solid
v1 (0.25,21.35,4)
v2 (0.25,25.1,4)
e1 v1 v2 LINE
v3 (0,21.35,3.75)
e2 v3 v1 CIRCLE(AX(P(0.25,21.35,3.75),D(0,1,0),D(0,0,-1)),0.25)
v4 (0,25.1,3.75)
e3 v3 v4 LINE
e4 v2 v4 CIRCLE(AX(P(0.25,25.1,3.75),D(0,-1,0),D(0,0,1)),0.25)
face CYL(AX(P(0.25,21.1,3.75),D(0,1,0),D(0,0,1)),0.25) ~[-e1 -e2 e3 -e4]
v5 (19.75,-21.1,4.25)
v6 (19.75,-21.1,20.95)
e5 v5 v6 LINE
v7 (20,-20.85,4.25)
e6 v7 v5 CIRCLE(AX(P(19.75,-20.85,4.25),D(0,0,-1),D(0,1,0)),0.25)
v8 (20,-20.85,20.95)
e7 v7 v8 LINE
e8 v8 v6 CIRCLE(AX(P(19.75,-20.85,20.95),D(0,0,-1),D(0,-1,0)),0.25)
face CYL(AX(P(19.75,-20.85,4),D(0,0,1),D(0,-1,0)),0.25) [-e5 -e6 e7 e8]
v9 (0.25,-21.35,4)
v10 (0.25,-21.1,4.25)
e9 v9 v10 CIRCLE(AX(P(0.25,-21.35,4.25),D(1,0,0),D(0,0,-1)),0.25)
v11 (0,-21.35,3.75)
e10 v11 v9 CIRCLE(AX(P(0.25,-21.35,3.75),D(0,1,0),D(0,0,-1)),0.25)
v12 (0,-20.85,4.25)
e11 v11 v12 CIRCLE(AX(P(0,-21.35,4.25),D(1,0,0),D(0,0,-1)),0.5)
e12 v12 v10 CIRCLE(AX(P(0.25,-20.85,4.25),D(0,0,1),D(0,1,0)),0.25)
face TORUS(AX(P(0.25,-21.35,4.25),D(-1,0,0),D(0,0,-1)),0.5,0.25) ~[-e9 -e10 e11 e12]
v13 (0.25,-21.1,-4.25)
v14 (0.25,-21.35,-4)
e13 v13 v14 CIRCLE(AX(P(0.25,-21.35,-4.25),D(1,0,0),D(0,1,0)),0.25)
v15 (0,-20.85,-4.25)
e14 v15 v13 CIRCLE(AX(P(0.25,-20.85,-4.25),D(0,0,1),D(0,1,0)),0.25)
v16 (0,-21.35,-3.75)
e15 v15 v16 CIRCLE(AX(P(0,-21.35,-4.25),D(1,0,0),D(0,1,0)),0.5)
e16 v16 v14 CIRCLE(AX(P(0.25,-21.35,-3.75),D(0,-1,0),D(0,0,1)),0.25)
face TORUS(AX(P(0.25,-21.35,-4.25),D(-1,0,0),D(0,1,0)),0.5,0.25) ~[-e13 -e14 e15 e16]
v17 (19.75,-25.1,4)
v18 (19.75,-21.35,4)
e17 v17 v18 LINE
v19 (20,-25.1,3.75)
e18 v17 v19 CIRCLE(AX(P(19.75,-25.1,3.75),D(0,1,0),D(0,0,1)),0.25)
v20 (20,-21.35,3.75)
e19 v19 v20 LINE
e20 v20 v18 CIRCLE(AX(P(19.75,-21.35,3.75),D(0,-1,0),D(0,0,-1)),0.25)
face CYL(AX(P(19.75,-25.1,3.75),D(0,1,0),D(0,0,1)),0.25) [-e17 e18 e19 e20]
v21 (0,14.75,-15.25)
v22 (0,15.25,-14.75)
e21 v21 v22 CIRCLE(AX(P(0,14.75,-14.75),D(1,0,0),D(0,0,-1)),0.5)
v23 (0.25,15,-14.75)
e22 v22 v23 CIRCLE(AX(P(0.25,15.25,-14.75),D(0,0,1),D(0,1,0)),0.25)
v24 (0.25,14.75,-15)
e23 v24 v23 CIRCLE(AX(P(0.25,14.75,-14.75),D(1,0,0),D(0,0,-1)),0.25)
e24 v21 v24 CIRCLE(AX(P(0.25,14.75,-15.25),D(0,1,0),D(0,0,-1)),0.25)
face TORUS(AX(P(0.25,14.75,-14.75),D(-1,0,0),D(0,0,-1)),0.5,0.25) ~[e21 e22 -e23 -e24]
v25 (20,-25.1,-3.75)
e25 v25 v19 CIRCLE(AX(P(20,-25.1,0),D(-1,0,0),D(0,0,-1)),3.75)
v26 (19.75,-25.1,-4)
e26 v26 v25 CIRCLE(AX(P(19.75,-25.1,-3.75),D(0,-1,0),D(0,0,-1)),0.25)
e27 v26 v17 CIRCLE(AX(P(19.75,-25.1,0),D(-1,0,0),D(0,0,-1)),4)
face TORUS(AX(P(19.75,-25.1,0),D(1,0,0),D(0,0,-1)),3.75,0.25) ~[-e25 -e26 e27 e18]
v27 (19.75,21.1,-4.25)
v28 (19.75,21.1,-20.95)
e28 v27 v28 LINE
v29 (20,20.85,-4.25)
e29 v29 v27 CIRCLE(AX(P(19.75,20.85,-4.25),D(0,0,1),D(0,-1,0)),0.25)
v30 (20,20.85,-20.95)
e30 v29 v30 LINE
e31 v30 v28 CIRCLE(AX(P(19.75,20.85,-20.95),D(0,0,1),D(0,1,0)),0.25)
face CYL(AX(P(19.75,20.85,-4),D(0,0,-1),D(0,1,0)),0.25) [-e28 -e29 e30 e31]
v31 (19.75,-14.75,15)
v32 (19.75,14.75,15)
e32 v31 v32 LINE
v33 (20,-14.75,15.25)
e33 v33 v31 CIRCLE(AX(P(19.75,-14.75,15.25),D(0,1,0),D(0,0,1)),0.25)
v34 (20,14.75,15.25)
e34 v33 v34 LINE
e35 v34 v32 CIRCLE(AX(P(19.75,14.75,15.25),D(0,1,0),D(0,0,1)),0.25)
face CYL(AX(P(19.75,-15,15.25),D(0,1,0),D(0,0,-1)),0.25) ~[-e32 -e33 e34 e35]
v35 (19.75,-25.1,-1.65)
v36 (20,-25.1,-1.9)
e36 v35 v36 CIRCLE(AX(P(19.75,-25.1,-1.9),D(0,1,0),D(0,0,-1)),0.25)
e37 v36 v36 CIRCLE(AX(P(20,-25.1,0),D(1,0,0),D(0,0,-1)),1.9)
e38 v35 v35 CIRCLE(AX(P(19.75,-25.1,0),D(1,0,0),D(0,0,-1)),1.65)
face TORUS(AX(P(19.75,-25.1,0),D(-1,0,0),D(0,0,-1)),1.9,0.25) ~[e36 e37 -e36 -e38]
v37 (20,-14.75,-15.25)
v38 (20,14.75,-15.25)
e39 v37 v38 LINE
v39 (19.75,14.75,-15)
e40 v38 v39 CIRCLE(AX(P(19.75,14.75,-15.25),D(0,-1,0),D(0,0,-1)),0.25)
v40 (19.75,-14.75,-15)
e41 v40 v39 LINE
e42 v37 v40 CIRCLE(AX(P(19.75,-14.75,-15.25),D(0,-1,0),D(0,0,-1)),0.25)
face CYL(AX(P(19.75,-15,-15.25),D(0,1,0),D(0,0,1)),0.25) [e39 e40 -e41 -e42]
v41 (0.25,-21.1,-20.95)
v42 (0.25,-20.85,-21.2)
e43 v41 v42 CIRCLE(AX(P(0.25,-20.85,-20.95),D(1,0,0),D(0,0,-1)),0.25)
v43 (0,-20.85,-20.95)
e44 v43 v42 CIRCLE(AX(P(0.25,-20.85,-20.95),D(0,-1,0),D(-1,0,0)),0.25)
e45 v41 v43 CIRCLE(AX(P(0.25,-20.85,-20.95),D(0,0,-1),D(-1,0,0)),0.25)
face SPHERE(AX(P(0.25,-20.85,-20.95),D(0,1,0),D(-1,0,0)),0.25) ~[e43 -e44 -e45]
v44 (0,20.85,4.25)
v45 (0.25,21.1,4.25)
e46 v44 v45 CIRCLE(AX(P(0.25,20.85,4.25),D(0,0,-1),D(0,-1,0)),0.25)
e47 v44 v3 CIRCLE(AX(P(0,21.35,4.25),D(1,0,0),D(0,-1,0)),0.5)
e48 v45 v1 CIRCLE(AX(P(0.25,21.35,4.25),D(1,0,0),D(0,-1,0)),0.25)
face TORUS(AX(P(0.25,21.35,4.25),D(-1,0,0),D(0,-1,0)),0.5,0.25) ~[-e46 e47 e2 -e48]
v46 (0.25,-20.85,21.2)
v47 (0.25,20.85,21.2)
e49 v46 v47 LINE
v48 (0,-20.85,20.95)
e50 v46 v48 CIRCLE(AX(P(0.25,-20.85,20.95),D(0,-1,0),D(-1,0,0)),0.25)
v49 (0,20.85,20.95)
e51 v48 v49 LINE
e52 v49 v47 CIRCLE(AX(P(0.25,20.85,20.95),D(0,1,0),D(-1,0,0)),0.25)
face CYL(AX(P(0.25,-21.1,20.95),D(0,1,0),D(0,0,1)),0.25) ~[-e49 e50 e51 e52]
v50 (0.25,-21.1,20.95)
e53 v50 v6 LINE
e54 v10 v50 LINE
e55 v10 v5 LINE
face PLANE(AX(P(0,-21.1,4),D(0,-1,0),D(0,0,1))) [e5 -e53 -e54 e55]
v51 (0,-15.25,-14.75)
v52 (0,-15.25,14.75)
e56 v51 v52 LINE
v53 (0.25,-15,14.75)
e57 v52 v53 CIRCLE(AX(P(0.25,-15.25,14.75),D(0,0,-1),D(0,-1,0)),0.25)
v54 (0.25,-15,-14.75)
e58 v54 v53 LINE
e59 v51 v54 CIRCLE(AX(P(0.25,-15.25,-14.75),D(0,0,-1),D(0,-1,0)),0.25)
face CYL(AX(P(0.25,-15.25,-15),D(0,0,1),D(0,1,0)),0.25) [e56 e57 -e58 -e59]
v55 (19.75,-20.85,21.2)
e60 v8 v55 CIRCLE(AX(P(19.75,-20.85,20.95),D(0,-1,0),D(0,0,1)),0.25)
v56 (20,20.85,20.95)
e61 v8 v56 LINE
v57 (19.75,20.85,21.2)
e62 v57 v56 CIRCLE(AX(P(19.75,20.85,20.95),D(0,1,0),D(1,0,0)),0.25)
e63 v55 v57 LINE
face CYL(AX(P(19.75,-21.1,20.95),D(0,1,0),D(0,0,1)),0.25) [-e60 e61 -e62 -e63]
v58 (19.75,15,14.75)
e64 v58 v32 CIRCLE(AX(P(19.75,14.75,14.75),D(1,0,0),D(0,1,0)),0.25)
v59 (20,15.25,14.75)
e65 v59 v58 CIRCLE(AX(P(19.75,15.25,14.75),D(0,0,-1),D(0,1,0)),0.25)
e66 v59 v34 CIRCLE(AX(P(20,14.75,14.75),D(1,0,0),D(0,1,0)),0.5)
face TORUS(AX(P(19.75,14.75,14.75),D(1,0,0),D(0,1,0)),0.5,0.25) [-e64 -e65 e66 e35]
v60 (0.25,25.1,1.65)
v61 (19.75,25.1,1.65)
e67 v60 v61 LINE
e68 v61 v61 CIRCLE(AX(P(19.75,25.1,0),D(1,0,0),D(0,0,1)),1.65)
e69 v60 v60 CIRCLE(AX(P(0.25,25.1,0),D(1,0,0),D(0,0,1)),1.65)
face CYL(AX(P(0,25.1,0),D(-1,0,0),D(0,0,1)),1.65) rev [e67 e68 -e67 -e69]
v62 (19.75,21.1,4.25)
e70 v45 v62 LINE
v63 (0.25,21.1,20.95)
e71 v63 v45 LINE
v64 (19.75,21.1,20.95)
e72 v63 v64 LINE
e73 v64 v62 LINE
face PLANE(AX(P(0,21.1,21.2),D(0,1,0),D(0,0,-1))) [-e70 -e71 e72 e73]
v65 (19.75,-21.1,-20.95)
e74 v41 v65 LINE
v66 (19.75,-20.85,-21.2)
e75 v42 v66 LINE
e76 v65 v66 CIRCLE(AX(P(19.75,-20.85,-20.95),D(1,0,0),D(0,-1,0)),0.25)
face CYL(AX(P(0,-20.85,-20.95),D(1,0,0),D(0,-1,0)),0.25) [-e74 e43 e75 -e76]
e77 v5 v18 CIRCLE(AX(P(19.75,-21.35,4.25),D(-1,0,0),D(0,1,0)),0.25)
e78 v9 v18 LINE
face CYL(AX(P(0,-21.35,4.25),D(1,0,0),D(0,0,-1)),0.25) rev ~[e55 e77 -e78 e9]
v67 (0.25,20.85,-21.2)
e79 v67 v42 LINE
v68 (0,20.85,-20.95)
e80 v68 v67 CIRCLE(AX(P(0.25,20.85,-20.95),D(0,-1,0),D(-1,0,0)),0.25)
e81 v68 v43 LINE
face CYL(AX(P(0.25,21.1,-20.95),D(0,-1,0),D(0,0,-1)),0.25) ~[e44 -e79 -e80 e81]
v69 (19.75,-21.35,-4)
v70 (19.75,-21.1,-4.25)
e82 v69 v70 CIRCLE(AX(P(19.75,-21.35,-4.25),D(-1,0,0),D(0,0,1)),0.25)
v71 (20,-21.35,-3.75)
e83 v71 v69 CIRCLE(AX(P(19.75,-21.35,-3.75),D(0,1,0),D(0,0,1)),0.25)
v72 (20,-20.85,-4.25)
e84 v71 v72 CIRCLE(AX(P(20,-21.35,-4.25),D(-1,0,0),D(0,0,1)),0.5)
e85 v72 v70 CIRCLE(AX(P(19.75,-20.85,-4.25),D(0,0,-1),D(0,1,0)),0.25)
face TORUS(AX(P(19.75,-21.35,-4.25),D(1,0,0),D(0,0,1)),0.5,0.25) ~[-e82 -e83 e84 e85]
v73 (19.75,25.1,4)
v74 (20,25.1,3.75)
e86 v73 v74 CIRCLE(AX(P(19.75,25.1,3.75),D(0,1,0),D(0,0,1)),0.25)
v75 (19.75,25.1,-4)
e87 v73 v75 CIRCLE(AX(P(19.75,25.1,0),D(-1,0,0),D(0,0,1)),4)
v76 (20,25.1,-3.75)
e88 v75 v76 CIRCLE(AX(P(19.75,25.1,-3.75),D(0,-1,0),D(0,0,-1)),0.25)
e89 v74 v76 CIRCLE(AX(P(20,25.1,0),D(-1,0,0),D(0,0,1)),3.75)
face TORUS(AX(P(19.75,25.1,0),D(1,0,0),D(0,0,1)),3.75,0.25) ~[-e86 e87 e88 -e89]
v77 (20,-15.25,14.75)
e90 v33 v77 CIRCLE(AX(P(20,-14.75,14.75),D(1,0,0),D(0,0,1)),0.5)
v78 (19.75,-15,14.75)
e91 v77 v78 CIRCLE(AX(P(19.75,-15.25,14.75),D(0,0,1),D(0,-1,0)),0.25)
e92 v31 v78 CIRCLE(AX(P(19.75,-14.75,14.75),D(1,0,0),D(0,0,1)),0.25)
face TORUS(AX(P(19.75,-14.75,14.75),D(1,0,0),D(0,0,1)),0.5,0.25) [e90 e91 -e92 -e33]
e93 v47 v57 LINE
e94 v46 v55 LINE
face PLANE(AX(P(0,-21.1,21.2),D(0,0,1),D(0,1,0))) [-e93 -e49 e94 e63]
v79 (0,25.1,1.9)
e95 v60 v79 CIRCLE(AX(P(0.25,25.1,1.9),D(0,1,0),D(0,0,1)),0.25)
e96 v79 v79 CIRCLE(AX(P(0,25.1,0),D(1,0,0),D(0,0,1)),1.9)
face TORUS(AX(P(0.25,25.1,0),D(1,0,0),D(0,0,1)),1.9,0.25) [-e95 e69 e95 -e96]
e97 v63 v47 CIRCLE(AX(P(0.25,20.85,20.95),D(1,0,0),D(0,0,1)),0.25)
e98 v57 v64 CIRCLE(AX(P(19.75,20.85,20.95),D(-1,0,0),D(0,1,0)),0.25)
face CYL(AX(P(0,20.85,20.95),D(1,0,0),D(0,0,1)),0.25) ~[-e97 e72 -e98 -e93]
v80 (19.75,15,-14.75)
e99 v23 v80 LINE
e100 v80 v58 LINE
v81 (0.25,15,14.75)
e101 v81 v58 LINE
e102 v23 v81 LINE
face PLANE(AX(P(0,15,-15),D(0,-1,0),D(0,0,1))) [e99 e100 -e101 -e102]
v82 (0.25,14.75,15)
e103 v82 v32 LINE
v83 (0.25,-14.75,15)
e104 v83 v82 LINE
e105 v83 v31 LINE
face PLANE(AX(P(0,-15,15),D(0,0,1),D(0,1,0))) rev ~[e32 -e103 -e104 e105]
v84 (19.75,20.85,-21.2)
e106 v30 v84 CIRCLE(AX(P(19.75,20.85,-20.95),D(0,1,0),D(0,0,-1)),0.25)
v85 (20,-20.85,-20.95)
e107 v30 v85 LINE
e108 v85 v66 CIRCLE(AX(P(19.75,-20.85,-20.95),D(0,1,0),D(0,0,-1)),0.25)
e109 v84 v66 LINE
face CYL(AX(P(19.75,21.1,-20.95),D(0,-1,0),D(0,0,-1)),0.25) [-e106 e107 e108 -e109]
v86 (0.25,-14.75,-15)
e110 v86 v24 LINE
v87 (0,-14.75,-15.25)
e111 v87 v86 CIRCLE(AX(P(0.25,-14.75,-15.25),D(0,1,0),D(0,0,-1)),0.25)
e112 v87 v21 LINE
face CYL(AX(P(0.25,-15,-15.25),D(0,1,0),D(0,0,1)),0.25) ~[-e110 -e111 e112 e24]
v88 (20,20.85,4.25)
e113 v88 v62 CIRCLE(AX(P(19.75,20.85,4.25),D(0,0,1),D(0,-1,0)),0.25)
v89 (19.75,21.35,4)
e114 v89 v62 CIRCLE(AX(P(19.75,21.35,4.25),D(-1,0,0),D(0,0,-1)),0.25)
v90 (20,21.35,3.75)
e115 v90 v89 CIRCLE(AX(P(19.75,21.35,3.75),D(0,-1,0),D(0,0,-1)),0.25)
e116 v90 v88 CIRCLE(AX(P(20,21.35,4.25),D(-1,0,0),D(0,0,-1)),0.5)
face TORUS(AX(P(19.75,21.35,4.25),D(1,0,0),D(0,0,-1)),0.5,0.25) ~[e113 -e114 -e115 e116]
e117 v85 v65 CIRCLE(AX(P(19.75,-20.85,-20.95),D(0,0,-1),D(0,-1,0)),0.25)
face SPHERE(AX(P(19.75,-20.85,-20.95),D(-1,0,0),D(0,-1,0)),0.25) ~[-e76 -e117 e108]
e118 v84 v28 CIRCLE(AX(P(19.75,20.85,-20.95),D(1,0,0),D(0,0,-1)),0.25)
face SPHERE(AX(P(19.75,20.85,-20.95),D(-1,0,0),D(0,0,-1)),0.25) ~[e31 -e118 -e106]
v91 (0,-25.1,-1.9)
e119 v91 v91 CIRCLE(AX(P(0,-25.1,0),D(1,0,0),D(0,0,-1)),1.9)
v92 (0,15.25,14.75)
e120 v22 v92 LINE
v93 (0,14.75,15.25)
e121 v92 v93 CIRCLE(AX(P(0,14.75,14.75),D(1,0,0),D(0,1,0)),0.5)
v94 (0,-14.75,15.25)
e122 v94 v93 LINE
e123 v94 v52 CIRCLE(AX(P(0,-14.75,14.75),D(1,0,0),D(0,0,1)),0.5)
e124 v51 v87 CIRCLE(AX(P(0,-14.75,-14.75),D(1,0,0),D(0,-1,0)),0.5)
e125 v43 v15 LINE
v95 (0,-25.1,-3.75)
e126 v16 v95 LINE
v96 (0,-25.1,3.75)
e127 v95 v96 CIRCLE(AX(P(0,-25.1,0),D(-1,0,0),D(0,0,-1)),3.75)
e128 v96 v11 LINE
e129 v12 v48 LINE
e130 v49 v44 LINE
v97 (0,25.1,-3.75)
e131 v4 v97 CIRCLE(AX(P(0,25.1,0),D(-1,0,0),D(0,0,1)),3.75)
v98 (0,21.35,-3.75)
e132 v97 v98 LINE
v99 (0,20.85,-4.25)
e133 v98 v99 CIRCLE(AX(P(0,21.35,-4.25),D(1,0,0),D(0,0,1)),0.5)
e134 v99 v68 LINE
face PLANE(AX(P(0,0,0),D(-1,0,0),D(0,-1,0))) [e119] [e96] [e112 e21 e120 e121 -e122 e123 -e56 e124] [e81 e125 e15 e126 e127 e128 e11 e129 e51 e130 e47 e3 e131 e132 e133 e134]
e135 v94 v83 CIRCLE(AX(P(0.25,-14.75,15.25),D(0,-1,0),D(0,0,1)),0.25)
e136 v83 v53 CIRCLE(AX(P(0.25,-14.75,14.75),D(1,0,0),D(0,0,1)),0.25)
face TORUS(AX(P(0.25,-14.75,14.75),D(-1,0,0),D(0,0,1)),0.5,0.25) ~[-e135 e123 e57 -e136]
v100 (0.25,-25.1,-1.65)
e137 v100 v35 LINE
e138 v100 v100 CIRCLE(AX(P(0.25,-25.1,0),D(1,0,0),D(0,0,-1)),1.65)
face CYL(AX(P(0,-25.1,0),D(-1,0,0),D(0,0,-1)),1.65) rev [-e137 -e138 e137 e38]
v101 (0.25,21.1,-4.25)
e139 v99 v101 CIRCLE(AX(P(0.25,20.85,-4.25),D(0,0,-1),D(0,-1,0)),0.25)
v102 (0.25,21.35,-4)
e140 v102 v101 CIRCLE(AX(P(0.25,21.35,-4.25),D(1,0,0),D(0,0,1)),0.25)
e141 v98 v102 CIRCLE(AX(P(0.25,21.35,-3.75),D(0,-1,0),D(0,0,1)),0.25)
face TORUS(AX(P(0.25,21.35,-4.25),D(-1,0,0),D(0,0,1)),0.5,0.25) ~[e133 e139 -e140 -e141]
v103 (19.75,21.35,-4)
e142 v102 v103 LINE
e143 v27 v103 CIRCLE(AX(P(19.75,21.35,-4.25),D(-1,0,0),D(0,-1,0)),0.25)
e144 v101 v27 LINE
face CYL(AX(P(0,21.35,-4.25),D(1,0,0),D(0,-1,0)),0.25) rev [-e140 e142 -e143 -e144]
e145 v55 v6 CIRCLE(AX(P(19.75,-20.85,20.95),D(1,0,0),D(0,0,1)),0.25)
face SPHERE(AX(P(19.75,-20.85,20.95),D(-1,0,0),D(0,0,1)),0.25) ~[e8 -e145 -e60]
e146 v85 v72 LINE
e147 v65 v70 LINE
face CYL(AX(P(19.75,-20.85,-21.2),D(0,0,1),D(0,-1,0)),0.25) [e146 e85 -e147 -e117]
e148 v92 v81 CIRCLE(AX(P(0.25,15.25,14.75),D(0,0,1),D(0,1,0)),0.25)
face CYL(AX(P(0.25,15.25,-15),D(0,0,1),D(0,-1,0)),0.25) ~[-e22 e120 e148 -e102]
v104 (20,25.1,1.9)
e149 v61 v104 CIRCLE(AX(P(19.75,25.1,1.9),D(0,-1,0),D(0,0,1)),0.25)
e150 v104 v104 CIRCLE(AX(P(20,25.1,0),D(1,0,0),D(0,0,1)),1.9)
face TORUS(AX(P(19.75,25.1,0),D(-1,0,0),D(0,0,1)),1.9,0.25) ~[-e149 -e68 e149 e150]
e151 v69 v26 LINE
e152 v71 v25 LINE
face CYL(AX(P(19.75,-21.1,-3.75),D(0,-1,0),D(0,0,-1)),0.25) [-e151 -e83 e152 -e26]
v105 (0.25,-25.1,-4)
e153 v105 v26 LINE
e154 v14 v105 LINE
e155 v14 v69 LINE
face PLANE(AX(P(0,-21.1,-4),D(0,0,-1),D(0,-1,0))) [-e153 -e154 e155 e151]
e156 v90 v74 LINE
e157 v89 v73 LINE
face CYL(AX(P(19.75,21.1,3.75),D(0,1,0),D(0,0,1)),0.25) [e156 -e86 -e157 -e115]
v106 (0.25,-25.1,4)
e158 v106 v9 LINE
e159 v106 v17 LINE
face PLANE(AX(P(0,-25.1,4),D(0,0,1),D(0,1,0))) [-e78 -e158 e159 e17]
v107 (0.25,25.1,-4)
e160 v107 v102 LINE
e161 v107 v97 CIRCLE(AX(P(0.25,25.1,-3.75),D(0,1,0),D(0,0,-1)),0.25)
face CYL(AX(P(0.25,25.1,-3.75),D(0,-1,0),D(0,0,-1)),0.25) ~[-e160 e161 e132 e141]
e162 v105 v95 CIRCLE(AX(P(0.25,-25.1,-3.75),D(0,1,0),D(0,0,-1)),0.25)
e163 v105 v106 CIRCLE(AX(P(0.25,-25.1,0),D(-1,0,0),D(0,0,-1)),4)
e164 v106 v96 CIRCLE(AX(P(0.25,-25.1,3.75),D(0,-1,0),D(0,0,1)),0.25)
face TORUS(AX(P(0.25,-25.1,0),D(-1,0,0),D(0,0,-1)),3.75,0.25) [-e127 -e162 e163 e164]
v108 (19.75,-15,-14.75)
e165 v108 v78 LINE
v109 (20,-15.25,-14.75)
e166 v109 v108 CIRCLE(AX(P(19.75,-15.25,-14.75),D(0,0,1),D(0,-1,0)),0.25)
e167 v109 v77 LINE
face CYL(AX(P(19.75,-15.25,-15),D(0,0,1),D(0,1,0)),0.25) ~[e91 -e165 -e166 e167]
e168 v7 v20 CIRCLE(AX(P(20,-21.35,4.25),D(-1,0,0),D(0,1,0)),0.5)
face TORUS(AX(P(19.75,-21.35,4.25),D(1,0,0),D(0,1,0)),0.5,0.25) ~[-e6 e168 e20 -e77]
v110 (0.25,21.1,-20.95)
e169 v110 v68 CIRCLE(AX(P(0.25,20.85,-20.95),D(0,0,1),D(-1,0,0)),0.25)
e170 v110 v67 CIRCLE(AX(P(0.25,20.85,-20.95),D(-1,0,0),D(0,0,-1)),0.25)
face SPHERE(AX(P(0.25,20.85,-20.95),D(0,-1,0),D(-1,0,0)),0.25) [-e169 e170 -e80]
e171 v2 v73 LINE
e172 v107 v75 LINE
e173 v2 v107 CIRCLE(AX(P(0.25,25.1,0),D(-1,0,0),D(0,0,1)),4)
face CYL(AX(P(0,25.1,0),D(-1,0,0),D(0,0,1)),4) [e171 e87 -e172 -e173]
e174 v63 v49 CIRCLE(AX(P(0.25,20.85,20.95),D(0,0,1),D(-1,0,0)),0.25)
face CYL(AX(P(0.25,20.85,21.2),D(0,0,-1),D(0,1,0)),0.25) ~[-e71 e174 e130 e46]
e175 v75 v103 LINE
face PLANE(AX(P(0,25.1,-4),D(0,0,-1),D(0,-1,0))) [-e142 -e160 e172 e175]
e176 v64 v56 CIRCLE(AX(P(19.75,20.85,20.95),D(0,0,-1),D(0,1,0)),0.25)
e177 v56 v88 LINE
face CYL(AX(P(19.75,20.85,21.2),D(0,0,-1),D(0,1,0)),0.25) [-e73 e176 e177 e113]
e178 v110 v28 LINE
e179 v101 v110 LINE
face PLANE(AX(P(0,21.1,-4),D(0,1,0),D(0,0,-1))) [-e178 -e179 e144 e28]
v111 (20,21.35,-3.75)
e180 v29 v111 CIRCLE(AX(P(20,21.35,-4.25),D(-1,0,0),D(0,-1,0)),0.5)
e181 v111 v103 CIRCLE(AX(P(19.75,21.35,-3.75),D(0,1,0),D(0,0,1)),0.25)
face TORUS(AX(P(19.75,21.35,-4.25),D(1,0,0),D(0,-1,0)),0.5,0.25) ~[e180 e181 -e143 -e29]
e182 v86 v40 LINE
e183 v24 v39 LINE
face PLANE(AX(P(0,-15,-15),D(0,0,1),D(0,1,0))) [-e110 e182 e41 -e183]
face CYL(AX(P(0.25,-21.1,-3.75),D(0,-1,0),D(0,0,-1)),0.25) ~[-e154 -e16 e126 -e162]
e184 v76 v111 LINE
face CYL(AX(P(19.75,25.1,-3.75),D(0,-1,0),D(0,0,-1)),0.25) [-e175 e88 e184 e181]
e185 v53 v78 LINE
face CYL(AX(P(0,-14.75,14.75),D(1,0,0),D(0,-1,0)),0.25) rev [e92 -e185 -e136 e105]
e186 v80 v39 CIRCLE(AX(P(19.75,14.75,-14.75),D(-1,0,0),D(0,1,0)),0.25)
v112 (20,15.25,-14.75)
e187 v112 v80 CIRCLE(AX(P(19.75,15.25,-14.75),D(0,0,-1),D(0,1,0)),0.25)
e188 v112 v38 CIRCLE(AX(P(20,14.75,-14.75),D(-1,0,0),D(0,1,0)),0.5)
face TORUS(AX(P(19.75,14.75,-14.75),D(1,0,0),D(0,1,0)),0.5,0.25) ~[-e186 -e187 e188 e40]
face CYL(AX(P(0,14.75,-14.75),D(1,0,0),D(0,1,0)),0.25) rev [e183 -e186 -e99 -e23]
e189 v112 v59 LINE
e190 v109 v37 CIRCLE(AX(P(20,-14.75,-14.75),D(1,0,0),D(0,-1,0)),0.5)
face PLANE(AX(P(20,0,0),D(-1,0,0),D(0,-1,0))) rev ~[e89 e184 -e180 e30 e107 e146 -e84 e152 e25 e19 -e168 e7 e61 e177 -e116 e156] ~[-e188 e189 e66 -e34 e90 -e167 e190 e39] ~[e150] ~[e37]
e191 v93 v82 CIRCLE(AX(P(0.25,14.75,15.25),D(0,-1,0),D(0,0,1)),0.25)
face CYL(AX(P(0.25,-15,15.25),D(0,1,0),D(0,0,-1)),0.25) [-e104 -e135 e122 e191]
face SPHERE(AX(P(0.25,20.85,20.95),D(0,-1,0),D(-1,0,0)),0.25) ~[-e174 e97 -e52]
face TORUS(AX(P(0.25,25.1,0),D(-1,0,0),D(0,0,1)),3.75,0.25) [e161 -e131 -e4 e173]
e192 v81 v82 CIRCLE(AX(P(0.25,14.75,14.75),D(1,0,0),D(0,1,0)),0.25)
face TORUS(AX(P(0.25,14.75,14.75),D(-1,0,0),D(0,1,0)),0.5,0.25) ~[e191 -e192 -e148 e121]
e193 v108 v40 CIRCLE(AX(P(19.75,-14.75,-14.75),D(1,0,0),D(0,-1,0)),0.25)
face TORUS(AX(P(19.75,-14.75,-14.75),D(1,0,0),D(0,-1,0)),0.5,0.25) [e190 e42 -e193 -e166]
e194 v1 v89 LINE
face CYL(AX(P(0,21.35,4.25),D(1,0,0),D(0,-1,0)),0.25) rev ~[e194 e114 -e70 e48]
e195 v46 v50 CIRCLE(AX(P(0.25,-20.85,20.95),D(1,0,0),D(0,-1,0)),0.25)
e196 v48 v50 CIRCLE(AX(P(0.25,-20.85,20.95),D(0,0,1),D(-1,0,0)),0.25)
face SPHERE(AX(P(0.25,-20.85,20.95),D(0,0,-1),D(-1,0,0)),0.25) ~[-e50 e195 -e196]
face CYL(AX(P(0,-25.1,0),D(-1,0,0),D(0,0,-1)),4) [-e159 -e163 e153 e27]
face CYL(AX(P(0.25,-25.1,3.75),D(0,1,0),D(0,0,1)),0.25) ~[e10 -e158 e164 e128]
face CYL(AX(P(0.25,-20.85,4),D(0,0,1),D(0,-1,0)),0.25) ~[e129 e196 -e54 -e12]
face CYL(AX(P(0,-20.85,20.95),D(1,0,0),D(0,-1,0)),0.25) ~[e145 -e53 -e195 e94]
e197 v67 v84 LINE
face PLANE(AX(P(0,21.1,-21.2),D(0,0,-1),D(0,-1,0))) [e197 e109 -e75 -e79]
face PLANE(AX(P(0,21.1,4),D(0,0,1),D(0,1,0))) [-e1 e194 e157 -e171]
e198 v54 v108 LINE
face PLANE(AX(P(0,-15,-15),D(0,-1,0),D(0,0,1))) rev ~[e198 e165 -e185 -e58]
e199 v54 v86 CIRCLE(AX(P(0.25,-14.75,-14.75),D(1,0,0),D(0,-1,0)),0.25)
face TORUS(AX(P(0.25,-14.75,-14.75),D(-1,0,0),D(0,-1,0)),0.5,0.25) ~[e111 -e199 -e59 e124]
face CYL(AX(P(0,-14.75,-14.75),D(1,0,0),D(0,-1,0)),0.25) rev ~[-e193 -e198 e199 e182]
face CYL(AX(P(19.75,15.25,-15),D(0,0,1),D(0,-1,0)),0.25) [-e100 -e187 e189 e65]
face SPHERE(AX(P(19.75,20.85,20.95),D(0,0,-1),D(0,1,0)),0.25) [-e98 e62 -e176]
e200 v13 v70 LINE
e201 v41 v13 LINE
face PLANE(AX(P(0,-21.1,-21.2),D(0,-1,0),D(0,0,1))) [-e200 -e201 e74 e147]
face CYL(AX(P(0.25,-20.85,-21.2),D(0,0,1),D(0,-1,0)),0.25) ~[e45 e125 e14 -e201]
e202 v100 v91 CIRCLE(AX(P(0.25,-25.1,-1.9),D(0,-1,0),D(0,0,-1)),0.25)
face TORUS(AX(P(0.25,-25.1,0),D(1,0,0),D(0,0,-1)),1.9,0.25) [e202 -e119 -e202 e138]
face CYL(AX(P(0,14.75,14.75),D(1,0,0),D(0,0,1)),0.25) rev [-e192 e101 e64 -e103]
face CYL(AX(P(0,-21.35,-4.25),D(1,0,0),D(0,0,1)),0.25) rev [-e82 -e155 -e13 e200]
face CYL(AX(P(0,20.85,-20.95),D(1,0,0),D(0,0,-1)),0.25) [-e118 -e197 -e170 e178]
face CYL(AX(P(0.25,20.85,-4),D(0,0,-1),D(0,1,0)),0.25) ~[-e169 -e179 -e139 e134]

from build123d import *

# Parameters (mm, degrees)
SKETCH1_R           = 1.65
SKETCH1_W           = 30
SKETCH1_H           = 30
BOSS_EXTRUDE1_DEPTH = 20
FILLET18_R          = 0.25


with BuildPart() as part:
    # Sketch1 → Boss-Extrude1 (new body)
    with BuildSketch(Plane.YZ):
        with BuildLine():
            Line((-25.1, 4), (-21.1, 4))
            Line((-21.1, 4), (-21.1, 21.2))
            Line((-21.1, 21.2), (21.1, 21.2))
            Line((21.1, 21.2), (21.1, 4))
            Line((21.1, 4), (25.1, 4))
            ThreePointArc((25.1, 4), (29.1, 0), (25.1, -4))
            Line((25.1, -4), (21.1, -4))
            Line((21.1, -4), (21.1, -21.2))
            Line((21.1, -21.2), (-21.1, -21.2))
            Line((-21.1, -21.2), (-21.1, -4))
            Line((-21.1, -4), (-25.1, -4))
            ThreePointArc((-25.1, -4), (-29.1, 0), (-25.1, 4))
        make_face()
        with Locations(Location((-25.1, 0, 0), (0, 0, 270))):
            Circle(SKETCH1_R, mode=Mode.SUBTRACT)
        with Locations(Location((25.1, 0, 0), (0, 0, 90))):
            Circle(SKETCH1_R, mode=Mode.SUBTRACT)
        Rectangle(SKETCH1_W, SKETCH1_H, mode=Mode.SUBTRACT)
    extrude(amount=BOSS_EXTRUDE1_DEPTH)

    # Fillet18
    fillet18_edges = [part.edges().sort_by_distance(p)[0] for p in [
        (0, 0, -21.2),
        (0, -21.1, -12.6),
        (20, 29.1, 0),
        (0, -23.1, -4),
        (0, -29.1, 0),
        (0, -23.1, 4),
        (0, -21.1, 12.6),
        (0, 0, 21.2),
        (0, 21.1, 12.6),
        (0, 23.1, 4),
        (0, 29.1, 0),
        (0, 23.1, -4),
        (0, 21.1, -12.6),
        (20, 23.1, 4),
        (10, 21.1, -21.2),
        (10, -21.1, -21.2),
        (10, -21.1, -4),
        (20, 21.1, 12.6),
        (10, -21.1, 4),
        (10, -21.1, 21.2),
        (10, 21.1, 21.2),
        (10, 21.1, 4),
        (10, 21.1, -4),
        (20, 0, 21.2),
        (20, -21.1, 12.6),
        (20, -23.1, 4),
        (0, 15, 0),
        (10, 15, -15),
        (0, 0, 15),
        (10, 15, 15),
        (0, -15, 0),
        (10, -15, 15),
        (0, 0, -15),
        (10, -15, -15),
        (20, 15, 0),
        (20, 0, 15),
        (20, -15, 0),
        (20, 0, -15),
        (20, -29.1, 0),
        (20, -23.1, -4),
        (0, -25.1, 1.65),
        (20, -25.1, 1.65),
        (20, -21.1, -12.6),
        (0, 25.1, -1.65),
        (20, 25.1, -1.65),
        (20, 0, -21.2),
        (20, 21.1, -12.6),
        (20, 23.1, -4),
    ]]
    fillet(fillet18_edges, radius=FILLET18_R)


solid = part.part
